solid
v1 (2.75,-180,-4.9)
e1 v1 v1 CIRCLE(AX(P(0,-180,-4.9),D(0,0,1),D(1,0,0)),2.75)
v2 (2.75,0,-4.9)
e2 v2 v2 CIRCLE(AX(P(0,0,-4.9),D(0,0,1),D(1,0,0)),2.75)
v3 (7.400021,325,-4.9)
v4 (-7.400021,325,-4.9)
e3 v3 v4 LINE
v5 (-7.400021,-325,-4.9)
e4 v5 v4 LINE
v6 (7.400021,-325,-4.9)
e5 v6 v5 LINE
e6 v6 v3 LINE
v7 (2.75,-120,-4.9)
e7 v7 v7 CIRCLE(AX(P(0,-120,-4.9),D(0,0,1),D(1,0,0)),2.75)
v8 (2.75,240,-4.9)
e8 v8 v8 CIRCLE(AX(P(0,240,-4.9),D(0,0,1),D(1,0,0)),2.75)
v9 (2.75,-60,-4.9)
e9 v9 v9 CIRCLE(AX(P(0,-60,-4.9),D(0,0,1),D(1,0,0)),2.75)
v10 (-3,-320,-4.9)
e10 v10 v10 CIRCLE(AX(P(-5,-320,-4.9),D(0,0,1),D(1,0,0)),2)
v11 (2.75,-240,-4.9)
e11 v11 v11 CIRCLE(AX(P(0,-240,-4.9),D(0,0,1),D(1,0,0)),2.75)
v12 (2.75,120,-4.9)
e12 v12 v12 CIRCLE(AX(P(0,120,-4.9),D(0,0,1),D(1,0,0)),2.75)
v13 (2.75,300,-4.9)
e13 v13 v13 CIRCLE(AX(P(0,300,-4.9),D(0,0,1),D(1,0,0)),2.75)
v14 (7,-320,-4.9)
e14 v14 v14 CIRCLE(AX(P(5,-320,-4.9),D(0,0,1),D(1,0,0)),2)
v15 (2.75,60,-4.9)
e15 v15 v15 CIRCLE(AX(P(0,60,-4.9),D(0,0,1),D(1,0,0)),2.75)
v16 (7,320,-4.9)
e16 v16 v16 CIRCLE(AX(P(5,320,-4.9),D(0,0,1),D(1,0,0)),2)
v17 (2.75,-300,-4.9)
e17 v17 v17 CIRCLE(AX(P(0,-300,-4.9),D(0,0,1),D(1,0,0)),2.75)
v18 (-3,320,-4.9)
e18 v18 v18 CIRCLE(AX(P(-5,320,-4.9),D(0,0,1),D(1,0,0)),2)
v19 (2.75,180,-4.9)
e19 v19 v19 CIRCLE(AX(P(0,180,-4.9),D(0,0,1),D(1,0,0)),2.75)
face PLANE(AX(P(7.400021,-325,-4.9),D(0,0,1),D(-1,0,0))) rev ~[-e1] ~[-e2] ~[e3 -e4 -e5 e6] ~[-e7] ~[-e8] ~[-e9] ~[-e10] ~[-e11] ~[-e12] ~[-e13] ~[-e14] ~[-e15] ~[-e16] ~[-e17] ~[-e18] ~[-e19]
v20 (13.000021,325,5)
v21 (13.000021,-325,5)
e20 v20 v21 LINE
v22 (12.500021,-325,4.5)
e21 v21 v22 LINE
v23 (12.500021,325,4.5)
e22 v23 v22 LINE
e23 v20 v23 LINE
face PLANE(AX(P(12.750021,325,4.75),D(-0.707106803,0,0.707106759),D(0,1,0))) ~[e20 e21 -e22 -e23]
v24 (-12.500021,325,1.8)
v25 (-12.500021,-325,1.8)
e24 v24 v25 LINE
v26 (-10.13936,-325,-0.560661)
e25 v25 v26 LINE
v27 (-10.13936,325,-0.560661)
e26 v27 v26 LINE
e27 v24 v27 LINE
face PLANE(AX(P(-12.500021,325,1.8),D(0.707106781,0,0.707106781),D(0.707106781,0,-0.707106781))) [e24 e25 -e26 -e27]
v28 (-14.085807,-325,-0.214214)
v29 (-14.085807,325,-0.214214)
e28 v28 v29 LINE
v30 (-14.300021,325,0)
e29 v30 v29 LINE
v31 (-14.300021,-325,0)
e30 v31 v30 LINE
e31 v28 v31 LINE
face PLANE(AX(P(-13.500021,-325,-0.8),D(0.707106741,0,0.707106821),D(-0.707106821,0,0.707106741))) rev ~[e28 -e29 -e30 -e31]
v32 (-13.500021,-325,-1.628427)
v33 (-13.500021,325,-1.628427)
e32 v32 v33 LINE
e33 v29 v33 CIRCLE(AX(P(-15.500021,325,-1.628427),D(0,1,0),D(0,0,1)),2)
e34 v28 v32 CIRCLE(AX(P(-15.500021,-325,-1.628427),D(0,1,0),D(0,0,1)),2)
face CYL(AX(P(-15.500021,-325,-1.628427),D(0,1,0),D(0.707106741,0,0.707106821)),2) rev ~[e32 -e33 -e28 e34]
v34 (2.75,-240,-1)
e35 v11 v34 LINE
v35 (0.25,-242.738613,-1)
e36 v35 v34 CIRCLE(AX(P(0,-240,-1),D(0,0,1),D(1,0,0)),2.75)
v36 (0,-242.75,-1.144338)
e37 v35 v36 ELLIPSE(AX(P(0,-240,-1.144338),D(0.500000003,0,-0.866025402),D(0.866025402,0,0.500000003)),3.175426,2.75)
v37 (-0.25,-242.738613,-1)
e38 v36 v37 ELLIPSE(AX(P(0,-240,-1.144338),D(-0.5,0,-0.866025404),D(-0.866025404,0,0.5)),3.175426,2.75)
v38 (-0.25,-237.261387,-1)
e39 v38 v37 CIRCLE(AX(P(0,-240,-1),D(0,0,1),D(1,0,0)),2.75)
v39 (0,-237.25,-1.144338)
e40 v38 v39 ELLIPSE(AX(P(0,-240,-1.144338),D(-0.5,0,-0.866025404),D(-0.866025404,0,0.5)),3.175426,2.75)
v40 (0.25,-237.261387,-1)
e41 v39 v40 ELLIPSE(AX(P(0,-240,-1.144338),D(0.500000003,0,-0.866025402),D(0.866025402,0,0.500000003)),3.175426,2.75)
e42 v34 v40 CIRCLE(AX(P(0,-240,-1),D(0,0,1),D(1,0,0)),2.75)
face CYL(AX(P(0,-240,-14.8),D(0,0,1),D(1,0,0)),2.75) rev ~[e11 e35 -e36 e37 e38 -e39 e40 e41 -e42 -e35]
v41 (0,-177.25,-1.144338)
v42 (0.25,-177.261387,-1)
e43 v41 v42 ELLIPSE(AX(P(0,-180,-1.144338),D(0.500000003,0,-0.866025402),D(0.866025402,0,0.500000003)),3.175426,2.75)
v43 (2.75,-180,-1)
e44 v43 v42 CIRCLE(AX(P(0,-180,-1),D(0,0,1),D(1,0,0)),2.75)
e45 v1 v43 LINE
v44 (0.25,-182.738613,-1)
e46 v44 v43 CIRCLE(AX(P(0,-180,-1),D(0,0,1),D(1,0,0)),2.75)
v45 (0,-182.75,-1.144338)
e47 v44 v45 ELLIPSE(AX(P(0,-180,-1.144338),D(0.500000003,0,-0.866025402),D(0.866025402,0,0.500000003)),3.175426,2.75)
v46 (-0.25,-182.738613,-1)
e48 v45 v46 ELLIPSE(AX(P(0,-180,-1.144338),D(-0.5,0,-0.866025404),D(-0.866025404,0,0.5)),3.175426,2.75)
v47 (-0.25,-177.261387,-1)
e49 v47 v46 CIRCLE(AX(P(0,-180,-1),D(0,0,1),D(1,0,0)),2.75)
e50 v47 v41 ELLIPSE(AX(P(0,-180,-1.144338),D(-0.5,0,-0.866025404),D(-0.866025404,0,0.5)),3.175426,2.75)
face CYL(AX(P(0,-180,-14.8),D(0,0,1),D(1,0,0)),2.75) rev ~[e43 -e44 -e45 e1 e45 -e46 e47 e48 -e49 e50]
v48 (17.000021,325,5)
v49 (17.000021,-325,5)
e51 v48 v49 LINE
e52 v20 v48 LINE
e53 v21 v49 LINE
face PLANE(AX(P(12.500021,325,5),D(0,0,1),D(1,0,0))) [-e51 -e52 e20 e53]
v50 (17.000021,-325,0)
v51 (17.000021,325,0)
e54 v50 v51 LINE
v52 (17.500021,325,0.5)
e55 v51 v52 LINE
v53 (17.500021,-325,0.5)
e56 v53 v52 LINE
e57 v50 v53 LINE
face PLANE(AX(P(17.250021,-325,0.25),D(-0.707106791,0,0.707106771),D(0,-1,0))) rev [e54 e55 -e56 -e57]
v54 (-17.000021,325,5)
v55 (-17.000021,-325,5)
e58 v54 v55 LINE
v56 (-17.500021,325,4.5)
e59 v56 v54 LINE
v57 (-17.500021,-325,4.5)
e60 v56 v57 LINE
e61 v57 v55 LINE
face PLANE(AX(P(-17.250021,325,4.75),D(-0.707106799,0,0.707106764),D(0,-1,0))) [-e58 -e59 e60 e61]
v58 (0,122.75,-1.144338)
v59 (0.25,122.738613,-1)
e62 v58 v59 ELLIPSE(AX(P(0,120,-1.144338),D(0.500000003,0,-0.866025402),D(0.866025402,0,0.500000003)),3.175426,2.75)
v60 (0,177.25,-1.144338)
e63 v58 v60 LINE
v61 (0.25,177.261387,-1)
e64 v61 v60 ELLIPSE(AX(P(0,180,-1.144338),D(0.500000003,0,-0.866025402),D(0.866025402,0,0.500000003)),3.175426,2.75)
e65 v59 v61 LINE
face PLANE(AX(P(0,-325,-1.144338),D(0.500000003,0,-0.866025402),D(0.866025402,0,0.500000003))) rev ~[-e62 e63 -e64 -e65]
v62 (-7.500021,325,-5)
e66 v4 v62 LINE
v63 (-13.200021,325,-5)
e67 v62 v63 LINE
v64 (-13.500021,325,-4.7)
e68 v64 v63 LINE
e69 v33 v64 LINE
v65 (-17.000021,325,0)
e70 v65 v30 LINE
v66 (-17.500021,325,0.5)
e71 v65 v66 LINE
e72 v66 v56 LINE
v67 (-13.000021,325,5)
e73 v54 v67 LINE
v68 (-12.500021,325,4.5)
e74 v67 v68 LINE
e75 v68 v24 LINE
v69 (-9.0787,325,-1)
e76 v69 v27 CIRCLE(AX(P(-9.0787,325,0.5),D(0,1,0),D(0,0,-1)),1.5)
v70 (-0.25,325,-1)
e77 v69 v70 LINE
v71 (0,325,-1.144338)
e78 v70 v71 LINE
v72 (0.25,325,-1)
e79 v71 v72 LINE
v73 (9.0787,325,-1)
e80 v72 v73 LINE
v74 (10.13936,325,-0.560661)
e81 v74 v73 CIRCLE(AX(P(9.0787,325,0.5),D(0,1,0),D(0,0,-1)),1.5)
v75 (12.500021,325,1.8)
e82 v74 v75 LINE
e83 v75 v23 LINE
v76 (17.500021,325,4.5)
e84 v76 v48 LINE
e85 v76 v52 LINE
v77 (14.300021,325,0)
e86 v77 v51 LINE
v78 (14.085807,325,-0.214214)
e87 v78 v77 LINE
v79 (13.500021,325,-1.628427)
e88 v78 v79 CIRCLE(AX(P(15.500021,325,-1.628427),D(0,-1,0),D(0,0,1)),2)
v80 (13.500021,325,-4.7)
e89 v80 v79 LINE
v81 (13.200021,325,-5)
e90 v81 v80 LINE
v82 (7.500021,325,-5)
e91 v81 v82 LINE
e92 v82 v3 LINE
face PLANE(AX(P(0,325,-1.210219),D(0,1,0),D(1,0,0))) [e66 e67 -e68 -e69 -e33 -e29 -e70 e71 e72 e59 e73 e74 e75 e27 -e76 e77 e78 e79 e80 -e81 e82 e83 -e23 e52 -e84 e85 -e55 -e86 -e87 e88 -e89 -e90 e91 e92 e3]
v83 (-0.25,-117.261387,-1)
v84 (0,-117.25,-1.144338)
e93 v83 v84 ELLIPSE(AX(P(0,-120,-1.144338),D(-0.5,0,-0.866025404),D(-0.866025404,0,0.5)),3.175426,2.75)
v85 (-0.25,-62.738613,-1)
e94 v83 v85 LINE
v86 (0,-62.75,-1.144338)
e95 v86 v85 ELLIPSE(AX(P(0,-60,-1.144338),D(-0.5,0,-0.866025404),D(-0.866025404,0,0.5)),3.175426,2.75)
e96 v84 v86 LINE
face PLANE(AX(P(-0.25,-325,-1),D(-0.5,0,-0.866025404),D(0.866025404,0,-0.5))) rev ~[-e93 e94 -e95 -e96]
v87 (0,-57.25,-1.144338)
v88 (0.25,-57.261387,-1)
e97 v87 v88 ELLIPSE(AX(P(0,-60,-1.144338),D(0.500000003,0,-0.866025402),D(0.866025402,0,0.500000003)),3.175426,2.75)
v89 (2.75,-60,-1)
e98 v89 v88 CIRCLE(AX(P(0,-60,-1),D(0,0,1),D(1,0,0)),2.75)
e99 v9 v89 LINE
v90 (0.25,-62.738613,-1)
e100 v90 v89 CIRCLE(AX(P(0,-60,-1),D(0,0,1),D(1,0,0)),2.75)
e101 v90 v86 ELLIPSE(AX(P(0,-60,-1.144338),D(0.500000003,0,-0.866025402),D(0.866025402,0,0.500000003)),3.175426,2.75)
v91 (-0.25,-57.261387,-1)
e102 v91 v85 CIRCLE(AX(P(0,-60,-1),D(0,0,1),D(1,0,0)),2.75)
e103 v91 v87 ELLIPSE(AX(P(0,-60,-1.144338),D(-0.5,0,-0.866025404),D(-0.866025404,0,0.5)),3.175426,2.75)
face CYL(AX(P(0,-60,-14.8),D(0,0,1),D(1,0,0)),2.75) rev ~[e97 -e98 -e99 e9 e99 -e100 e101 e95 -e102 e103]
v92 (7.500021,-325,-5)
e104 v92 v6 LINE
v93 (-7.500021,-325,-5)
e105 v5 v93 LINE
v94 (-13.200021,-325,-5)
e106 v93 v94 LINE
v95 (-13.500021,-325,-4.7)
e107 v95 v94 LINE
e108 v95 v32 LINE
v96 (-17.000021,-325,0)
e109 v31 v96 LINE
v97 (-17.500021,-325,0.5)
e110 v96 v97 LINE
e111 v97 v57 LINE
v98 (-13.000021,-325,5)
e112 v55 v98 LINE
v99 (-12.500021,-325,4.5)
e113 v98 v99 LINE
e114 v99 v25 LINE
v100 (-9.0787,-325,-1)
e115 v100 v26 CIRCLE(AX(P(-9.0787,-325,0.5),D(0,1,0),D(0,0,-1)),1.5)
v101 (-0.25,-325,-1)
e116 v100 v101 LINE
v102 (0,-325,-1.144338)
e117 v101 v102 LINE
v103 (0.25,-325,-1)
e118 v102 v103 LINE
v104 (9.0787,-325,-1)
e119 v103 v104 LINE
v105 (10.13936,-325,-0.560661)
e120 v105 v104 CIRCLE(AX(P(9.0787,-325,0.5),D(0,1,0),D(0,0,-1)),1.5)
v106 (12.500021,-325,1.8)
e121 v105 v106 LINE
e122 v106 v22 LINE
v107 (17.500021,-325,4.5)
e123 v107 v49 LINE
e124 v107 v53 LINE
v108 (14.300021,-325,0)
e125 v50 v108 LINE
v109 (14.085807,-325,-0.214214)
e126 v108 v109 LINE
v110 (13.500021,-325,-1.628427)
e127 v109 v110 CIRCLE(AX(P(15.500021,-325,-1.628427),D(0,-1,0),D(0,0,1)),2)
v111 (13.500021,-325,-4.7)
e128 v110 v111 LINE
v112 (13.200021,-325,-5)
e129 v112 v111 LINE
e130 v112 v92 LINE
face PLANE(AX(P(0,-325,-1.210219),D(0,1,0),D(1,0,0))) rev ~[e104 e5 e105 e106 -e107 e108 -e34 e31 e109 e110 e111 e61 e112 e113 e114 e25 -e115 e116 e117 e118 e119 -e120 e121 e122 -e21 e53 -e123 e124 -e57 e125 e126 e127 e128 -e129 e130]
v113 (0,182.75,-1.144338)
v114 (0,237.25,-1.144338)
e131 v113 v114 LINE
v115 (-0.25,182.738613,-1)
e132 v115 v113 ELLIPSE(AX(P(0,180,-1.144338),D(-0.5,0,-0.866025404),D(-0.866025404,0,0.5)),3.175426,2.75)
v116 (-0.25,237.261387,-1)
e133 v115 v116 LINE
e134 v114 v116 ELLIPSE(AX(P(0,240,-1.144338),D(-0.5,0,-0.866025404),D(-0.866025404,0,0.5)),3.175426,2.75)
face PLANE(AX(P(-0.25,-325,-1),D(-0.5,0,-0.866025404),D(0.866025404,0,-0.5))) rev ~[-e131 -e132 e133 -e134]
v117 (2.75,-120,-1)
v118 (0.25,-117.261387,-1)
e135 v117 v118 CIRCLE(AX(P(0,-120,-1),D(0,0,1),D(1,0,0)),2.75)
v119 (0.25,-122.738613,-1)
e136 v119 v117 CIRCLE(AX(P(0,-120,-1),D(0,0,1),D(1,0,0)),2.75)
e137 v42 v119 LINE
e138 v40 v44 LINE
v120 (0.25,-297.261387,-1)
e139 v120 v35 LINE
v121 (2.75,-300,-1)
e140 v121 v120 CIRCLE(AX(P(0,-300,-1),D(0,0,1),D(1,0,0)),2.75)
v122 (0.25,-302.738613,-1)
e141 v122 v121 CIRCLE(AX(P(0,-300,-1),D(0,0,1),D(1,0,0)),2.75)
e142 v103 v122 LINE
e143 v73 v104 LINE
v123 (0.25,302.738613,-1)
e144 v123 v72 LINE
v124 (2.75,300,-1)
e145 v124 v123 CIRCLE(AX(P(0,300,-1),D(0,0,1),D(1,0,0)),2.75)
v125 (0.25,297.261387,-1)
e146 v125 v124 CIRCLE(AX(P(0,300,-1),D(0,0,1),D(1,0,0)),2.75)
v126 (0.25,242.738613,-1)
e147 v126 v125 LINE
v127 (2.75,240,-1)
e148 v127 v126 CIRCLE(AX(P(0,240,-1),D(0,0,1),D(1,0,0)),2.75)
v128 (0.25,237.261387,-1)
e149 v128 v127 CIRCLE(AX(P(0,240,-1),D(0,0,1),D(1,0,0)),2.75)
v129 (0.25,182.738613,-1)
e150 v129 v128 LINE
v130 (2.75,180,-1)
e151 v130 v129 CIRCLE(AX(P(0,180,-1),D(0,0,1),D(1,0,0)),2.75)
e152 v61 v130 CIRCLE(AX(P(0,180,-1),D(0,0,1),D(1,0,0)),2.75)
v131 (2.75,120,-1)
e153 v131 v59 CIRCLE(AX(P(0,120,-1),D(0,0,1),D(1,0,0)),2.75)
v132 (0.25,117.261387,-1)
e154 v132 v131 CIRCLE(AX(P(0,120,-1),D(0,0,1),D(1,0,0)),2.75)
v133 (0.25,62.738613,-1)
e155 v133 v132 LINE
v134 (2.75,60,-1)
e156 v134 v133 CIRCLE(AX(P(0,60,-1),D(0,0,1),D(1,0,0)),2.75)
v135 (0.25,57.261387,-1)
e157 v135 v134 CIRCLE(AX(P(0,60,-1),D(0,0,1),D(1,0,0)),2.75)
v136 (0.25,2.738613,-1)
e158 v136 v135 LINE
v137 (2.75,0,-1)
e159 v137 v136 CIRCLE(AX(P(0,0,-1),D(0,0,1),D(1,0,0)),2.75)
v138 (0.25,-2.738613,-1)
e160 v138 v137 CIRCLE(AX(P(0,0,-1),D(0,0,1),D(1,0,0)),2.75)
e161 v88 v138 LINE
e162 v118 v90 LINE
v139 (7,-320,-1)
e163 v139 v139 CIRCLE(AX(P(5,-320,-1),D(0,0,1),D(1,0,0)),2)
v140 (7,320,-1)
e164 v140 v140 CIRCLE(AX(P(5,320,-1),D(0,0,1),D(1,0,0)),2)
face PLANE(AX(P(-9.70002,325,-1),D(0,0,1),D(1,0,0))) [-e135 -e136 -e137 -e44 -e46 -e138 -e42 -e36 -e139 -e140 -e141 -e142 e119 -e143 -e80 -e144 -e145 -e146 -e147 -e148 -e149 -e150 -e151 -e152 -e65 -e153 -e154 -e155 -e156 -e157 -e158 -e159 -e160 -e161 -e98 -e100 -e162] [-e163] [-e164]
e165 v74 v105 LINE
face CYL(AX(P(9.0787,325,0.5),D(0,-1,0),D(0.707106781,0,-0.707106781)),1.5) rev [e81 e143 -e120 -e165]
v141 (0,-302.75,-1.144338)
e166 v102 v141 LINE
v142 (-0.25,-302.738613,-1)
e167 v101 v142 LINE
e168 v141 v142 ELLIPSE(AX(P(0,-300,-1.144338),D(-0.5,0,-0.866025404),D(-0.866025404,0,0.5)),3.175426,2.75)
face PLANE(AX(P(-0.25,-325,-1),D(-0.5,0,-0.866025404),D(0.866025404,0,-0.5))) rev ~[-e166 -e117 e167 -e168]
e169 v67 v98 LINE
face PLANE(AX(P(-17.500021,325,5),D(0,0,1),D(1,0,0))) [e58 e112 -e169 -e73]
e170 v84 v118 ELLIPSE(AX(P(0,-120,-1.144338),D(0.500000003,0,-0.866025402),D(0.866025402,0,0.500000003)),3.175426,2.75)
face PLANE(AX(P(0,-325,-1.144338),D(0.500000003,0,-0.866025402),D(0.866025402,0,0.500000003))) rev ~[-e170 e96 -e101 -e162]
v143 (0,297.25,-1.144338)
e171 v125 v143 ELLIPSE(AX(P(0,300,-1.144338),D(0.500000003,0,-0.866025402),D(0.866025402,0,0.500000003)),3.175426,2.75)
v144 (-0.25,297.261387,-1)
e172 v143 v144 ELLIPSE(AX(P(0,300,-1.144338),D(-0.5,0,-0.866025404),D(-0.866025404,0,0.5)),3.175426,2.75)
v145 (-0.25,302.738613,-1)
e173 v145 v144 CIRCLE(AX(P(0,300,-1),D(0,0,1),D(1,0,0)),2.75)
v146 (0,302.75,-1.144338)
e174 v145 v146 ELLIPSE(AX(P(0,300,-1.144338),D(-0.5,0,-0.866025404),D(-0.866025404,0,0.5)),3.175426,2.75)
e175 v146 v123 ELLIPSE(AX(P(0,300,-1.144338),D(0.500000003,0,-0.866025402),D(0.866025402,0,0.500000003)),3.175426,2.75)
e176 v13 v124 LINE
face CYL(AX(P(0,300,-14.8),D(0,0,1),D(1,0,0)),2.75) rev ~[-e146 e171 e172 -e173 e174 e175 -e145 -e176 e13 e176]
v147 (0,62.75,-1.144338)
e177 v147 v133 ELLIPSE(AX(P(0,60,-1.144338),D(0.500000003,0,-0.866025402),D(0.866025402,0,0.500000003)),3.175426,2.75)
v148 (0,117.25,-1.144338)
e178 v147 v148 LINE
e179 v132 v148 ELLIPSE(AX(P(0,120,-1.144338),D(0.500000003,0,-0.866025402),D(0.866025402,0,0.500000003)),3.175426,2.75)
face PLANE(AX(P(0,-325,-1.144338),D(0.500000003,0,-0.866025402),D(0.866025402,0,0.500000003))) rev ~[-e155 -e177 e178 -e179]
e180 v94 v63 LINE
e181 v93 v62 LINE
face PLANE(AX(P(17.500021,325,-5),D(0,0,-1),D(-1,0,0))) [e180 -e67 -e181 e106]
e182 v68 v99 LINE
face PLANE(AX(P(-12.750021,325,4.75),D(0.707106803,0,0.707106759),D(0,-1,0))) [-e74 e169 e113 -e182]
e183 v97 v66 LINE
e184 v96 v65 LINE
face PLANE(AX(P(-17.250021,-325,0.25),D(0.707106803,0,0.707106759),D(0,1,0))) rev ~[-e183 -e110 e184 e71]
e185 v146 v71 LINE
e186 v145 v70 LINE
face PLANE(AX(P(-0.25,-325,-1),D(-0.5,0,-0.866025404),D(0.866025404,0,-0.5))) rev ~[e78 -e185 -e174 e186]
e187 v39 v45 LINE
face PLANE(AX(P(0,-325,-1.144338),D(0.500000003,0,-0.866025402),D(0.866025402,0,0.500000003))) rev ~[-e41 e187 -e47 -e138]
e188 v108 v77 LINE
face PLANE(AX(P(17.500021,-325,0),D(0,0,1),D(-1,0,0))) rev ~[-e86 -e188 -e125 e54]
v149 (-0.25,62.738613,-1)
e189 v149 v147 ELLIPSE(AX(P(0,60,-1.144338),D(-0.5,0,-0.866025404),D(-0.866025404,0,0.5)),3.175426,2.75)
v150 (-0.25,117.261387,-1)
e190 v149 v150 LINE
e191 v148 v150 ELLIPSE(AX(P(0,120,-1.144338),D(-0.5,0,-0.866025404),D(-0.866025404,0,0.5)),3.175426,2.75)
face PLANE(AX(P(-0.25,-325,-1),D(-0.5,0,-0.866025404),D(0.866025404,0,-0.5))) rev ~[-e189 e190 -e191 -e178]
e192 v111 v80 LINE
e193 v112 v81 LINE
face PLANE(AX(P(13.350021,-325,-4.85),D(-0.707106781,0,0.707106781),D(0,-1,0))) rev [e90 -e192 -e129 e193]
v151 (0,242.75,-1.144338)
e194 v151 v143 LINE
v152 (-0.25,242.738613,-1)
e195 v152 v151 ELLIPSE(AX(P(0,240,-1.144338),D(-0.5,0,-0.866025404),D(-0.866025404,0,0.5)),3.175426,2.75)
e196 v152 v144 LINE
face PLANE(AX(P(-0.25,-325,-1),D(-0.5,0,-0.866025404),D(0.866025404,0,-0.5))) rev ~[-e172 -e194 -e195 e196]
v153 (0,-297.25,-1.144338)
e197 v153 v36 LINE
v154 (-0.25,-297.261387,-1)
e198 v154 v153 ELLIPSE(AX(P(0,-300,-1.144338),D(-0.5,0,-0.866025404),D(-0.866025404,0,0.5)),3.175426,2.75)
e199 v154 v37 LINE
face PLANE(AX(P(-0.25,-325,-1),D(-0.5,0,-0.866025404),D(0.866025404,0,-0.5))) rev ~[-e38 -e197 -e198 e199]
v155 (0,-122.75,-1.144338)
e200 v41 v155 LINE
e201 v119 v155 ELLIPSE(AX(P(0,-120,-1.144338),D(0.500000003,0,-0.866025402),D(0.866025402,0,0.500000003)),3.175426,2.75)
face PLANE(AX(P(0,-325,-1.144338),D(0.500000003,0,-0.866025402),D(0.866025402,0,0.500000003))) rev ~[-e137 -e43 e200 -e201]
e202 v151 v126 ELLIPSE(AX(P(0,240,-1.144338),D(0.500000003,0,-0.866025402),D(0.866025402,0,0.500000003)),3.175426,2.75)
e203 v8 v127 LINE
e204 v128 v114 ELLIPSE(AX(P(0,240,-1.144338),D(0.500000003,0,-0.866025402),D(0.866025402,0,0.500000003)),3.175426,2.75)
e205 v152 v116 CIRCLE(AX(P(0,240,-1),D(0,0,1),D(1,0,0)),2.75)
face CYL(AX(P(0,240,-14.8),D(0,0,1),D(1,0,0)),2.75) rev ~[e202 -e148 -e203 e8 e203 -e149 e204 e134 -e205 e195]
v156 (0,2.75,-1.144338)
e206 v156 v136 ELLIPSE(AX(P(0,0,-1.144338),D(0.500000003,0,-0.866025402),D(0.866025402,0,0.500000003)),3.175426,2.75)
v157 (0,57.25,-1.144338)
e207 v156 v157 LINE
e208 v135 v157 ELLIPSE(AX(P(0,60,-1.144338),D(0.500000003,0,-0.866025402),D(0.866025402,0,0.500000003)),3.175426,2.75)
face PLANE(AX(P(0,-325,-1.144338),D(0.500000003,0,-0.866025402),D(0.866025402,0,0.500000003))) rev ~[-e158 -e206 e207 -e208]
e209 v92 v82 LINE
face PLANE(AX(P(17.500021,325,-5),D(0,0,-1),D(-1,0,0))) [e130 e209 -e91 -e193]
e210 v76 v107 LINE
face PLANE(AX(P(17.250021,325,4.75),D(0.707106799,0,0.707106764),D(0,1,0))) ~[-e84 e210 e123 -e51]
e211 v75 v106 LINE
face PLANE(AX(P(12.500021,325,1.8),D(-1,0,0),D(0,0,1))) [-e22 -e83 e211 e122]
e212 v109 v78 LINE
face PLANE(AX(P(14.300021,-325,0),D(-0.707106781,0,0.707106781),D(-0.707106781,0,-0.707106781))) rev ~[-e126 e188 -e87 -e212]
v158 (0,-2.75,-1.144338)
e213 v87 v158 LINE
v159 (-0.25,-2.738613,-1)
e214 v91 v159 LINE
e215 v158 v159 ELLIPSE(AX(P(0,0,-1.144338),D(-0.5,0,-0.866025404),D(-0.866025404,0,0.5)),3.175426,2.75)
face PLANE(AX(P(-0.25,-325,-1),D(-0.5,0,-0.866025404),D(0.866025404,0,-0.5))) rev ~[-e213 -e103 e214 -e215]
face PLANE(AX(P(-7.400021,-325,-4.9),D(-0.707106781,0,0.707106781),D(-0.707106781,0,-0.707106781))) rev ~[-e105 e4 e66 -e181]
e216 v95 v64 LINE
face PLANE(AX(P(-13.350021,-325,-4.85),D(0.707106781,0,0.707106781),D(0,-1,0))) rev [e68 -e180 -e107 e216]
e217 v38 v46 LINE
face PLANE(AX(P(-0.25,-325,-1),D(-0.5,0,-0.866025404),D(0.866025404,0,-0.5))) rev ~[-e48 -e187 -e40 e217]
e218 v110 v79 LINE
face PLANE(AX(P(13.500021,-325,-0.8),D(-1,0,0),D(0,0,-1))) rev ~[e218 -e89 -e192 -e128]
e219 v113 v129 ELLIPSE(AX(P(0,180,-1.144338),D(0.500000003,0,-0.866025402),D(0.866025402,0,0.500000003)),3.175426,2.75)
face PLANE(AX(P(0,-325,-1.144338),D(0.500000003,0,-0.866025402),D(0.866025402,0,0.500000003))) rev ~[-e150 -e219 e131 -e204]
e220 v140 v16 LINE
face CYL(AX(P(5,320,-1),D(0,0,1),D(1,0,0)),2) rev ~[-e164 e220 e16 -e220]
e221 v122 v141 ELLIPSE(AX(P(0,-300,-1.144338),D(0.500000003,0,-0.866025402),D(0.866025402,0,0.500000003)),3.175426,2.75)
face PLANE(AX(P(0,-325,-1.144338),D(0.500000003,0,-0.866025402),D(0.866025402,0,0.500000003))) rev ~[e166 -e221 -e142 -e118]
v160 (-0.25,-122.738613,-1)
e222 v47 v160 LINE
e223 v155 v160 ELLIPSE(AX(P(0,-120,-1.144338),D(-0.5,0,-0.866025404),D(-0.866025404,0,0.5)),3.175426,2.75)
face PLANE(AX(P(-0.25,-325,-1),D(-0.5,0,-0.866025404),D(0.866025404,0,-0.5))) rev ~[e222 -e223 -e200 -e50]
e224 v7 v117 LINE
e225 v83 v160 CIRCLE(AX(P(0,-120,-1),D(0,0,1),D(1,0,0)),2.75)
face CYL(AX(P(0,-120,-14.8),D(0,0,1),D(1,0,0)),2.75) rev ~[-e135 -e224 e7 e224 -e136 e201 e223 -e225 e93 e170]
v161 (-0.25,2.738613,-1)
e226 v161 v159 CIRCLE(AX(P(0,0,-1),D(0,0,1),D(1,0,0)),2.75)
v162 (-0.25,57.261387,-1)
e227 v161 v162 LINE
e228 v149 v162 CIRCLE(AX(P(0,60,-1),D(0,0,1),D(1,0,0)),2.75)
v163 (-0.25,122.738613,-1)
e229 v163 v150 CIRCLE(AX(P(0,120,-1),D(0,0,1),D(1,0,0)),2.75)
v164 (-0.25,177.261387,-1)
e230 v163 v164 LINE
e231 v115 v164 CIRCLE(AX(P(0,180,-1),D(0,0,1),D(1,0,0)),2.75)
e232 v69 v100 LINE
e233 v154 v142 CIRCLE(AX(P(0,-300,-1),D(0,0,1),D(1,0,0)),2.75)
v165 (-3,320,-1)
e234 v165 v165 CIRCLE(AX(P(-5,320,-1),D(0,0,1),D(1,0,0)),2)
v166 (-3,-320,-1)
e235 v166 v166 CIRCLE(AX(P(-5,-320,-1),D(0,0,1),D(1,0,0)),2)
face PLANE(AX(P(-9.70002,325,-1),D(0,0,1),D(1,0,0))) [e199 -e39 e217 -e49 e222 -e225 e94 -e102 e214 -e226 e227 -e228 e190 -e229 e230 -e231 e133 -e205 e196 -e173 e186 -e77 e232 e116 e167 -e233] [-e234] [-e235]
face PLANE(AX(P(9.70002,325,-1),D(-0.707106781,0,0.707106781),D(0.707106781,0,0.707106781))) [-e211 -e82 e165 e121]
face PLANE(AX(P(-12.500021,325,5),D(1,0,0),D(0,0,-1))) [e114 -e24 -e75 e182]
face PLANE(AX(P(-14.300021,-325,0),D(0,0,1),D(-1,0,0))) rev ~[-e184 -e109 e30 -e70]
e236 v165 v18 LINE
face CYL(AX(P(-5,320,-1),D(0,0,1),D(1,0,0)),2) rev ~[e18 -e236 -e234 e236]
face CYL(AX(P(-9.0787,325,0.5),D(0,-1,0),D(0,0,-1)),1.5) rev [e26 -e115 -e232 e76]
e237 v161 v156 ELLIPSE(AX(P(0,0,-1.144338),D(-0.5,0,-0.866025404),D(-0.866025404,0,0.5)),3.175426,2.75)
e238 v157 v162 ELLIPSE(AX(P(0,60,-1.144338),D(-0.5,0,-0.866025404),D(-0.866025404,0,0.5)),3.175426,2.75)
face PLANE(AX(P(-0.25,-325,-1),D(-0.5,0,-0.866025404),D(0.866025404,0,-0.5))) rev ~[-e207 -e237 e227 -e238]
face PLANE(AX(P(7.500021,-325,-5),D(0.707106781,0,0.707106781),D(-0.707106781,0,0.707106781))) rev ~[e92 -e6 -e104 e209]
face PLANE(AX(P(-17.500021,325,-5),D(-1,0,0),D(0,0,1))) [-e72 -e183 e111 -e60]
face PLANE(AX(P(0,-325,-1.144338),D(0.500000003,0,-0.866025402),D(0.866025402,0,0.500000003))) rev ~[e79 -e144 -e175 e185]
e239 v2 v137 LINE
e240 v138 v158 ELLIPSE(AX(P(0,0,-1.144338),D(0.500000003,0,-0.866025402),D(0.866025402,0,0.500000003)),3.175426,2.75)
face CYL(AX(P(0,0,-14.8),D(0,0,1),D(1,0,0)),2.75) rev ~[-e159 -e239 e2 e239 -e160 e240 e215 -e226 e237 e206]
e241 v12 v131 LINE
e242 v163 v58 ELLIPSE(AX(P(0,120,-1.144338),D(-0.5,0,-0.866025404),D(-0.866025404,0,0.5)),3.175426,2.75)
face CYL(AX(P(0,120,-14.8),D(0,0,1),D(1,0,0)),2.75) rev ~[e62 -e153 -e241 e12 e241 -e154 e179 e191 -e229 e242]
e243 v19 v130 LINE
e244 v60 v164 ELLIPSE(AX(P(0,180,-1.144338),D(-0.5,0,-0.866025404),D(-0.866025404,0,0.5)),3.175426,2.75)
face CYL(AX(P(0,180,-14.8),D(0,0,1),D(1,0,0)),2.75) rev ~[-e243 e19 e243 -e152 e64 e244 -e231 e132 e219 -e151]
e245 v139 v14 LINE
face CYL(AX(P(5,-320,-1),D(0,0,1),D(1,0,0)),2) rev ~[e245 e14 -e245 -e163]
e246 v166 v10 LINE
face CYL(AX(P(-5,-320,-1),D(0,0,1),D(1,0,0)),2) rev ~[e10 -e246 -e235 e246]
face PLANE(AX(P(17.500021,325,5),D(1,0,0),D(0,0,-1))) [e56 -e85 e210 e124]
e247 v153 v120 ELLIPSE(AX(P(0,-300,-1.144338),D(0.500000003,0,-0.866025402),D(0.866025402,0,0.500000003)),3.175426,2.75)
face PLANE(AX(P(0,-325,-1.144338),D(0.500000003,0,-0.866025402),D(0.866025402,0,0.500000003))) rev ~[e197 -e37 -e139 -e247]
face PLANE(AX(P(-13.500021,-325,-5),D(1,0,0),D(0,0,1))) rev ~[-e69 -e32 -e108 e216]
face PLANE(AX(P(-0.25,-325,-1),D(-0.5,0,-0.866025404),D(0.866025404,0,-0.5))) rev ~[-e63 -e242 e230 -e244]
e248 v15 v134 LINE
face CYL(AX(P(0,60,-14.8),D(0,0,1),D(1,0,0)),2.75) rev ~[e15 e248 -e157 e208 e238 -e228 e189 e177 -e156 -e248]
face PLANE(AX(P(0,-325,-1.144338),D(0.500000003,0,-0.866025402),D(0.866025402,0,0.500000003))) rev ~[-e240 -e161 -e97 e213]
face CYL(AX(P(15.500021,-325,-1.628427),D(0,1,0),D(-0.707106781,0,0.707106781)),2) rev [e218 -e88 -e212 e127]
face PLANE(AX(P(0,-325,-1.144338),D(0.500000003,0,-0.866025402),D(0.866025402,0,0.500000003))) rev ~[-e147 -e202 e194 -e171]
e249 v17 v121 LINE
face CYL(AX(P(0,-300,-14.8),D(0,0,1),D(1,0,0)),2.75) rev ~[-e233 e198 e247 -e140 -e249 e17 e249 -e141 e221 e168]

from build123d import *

# Parameters (mm, degrees)
BOSS_EXTRU_1_DEPTH                  = 650
ENL_V_MAT_EXTRU_1_DEPTH             = 651.254758327
ENL_V_MAT_EXTRU_2_DEPTH             = 650
ENL_V_MAT_EXTRU_3_DEPTH             = 651.254758327
ENL_V_MAT_EXTRU_4_DEPTH             = 650
DIAM_TRE_DU_PER_AGE_5_5_5_5_1_D     = 5.5
DIAM_TRE_DU_PER_AGE_5_5_5_5_1_DEPTH = 9.900000103
CHANFREIN1_SIZE2                    = 0.499999975
CHANFREIN1_SIZE                     = 0.5
CHANFREIN2_SIZE                     = 0.3
CHANFREIN3_SIZE2                    = 0.500000028
CHANFREIN3_SIZE                     = 0.499999997
CHANFREIN4_SIZE                     = 0.5
CHANFREIN4_SIZE2                    = 0.500000014
CONG_1_R                            = 1.499999963
CONG_2_R                            = 1.999999944
ESQUISSE8_R                         = 2
ENL_V_MAT_EXTRU_5_DEPTH             = 10


with BuildPart() as part:
    # Esquisse1 → Boss.-Extru.1 (new body)
    with BuildSketch(Plane(origin=(0, 325, 0), x_dir=(1, 0, 0), z_dir=(0, 1, 0))):
        Polygon((-9.70002034, 1.00000045), (9.70002034, 1.00000045), (12.50002072, -1.79999993), (12.50002072, -4.999999928), (17.50002072, -4.999999928), (17.50002072, 5.000000175), (-17.50002072, 5.000000175), (-17.50002072, -4.999999928), (-12.50002072, -4.999999928), (-12.50002072, -1.79999993), align=None)
    extrude(amount=-BOSS_EXTRU_1_DEPTH)

    # Esquisse2 → Enlèv. mat.-Extru.1 (cut, through all)
    with BuildSketch(Plane.XZ.offset(325)):
        Polygon((-14.30002069, -6.7e-08), (-17.50002072, -6.7e-08), (-17.50002072, -5.000000175), (-13.50002072, -5.000000175), (-13.50002072, -0.799999947), align=None)
    extrude(amount=-ENL_V_MAT_EXTRU_1_DEPTH, mode=Mode.SUBTRACT)

    # Esquisse3 → Enlèv. mat.-Extru.2 (cut)
    with BuildSketch(Plane.XZ.offset(325)):
        Polygon((0.25, -1.000000175), (-0.25, -1.000000175), (1e-09, -1.144337743), align=None)
    extrude(amount=-ENL_V_MAT_EXTRU_2_DEPTH, mode=Mode.SUBTRACT)

    # Esquisse4 → Enlèv. mat.-Extru.3 (cut, through all)
    with BuildSketch(Plane.XZ.offset(325)):
        Polygon((13.50002072, -0.799999925), (13.50002072, -5.000000175), (17.50002072, -5.000000175), (17.50002072, 7.5e-08), (14.30002072, 7.5e-08), align=None)
    extrude(amount=-ENL_V_MAT_EXTRU_3_DEPTH, mode=Mode.SUBTRACT)

    # Esquisse5 → Enlèv. mat.-Extru.4 (cut)
    with BuildSketch(Plane.XZ.offset(325)):
        Polygon((-7.50002072, -5.000000175), (7.50002072, -5.000000175), (7.40002072, -4.900000175), (-7.40002072, -4.900000175), align=None)
    extrude(amount=-ENL_V_MAT_EXTRU_4_DEPTH, mode=Mode.SUBTRACT)

    # Diamètre du perçage Ø5.5 (5.5)1
    with Locations(Plane(origin=(0, 0, -4.900000175), x_dir=(-1, 0, 0), z_dir=(0, 0, -1))):
        with Locations((0, 300), (0, 240), (0, 180), (0, 120), (0, 60), (0, 0), (0, -60), (0, -120), (0, -180), (0, -240), (0, -300)):
            Hole(DIAM_TRE_DU_PER_AGE_5_5_5_5_1_D / 2, depth=DIAM_TRE_DU_PER_AGE_5_5_5_5_1_DEPTH)

    # Chanfrein1
    chanfrein1_edges = [part.edges().sort_by_distance(p)[0] for p in [
        (-17.50002072, 0, 4.999999928),
        (17.50002072, 0, 4.999999928),
    ]]
    chamfer(chanfrein1_edges, length=CHANFREIN1_SIZE, length2=CHANFREIN1_SIZE2)

    # Chanfrein2
    chanfrein2_edges = [part.edges().sort_by_distance(p)[0] for p in [
        (-13.50002072, 0, -5.000000175),
        (13.50002072, 0, -5.000000175),
    ]]
    chamfer(chanfrein2_edges, length=CHANFREIN2_SIZE)

    # Chanfrein3
    chanfrein3_edges = [part.edges().sort_by_distance(p)[0] for p in [
        (-12.50002072, 0, 4.999999928),
        (12.50002072, 0, 4.999999928),
        (-17.50002072, 0, -6.7e-08),
    ]]
    chamfer(chanfrein3_edges, length=CHANFREIN3_SIZE, length2=CHANFREIN3_SIZE2)

    # Chanfrein4
    chanfrein4_edges = [part.edges().sort_by_distance(p)[0] for p in [
        (17.50002072, 0, 7.5e-08),
    ]]
    chanfrein4_side = [part.faces().sort_by_distance(p)[0] for p in [
        (15.90002072, 0, 7.5e-08),
    ]]
    chamfer(chanfrein4_edges, length=CHANFREIN4_SIZE, length2=CHANFREIN4_SIZE2, reference=chanfrein4_side[0])

    # Congé1
    cong_1_edges = [part.edges().sort_by_distance(p)[0] for p in [
        (9.70002034, 0, -1.00000045),
        (-9.70002034, 0, -1.00000045),
    ]]
    fillet(cong_1_edges, radius=CONG_1_R)

    # Congé2
    cong_2_edges = [part.edges().sort_by_distance(p)[0] for p in [
        (-13.50002072, 0, -0.799999947),
        (13.50002072, 0, -0.799999925),
    ]]
    fillet(cong_2_edges, radius=CONG_2_R)

    # Esquisse8 → Enlèv. mat.-Extru.5 (cut)
    with BuildSketch(Plane.XY.offset(-1.00000045)):
        with Locations((-4.999999999, -320)):
            Circle(ESQUISSE8_R)
        with Locations((5.000000001, -320)):
            Circle(ESQUISSE8_R)
        with Locations((-4.999999999, 320)):
            Circle(ESQUISSE8_R)
        with Locations((5.000000001, 320)):
            Circle(ESQUISSE8_R)
    extrude(amount=-ENL_V_MAT_EXTRU_5_DEPTH, mode=Mode.SUBTRACT)


solid = part.part
